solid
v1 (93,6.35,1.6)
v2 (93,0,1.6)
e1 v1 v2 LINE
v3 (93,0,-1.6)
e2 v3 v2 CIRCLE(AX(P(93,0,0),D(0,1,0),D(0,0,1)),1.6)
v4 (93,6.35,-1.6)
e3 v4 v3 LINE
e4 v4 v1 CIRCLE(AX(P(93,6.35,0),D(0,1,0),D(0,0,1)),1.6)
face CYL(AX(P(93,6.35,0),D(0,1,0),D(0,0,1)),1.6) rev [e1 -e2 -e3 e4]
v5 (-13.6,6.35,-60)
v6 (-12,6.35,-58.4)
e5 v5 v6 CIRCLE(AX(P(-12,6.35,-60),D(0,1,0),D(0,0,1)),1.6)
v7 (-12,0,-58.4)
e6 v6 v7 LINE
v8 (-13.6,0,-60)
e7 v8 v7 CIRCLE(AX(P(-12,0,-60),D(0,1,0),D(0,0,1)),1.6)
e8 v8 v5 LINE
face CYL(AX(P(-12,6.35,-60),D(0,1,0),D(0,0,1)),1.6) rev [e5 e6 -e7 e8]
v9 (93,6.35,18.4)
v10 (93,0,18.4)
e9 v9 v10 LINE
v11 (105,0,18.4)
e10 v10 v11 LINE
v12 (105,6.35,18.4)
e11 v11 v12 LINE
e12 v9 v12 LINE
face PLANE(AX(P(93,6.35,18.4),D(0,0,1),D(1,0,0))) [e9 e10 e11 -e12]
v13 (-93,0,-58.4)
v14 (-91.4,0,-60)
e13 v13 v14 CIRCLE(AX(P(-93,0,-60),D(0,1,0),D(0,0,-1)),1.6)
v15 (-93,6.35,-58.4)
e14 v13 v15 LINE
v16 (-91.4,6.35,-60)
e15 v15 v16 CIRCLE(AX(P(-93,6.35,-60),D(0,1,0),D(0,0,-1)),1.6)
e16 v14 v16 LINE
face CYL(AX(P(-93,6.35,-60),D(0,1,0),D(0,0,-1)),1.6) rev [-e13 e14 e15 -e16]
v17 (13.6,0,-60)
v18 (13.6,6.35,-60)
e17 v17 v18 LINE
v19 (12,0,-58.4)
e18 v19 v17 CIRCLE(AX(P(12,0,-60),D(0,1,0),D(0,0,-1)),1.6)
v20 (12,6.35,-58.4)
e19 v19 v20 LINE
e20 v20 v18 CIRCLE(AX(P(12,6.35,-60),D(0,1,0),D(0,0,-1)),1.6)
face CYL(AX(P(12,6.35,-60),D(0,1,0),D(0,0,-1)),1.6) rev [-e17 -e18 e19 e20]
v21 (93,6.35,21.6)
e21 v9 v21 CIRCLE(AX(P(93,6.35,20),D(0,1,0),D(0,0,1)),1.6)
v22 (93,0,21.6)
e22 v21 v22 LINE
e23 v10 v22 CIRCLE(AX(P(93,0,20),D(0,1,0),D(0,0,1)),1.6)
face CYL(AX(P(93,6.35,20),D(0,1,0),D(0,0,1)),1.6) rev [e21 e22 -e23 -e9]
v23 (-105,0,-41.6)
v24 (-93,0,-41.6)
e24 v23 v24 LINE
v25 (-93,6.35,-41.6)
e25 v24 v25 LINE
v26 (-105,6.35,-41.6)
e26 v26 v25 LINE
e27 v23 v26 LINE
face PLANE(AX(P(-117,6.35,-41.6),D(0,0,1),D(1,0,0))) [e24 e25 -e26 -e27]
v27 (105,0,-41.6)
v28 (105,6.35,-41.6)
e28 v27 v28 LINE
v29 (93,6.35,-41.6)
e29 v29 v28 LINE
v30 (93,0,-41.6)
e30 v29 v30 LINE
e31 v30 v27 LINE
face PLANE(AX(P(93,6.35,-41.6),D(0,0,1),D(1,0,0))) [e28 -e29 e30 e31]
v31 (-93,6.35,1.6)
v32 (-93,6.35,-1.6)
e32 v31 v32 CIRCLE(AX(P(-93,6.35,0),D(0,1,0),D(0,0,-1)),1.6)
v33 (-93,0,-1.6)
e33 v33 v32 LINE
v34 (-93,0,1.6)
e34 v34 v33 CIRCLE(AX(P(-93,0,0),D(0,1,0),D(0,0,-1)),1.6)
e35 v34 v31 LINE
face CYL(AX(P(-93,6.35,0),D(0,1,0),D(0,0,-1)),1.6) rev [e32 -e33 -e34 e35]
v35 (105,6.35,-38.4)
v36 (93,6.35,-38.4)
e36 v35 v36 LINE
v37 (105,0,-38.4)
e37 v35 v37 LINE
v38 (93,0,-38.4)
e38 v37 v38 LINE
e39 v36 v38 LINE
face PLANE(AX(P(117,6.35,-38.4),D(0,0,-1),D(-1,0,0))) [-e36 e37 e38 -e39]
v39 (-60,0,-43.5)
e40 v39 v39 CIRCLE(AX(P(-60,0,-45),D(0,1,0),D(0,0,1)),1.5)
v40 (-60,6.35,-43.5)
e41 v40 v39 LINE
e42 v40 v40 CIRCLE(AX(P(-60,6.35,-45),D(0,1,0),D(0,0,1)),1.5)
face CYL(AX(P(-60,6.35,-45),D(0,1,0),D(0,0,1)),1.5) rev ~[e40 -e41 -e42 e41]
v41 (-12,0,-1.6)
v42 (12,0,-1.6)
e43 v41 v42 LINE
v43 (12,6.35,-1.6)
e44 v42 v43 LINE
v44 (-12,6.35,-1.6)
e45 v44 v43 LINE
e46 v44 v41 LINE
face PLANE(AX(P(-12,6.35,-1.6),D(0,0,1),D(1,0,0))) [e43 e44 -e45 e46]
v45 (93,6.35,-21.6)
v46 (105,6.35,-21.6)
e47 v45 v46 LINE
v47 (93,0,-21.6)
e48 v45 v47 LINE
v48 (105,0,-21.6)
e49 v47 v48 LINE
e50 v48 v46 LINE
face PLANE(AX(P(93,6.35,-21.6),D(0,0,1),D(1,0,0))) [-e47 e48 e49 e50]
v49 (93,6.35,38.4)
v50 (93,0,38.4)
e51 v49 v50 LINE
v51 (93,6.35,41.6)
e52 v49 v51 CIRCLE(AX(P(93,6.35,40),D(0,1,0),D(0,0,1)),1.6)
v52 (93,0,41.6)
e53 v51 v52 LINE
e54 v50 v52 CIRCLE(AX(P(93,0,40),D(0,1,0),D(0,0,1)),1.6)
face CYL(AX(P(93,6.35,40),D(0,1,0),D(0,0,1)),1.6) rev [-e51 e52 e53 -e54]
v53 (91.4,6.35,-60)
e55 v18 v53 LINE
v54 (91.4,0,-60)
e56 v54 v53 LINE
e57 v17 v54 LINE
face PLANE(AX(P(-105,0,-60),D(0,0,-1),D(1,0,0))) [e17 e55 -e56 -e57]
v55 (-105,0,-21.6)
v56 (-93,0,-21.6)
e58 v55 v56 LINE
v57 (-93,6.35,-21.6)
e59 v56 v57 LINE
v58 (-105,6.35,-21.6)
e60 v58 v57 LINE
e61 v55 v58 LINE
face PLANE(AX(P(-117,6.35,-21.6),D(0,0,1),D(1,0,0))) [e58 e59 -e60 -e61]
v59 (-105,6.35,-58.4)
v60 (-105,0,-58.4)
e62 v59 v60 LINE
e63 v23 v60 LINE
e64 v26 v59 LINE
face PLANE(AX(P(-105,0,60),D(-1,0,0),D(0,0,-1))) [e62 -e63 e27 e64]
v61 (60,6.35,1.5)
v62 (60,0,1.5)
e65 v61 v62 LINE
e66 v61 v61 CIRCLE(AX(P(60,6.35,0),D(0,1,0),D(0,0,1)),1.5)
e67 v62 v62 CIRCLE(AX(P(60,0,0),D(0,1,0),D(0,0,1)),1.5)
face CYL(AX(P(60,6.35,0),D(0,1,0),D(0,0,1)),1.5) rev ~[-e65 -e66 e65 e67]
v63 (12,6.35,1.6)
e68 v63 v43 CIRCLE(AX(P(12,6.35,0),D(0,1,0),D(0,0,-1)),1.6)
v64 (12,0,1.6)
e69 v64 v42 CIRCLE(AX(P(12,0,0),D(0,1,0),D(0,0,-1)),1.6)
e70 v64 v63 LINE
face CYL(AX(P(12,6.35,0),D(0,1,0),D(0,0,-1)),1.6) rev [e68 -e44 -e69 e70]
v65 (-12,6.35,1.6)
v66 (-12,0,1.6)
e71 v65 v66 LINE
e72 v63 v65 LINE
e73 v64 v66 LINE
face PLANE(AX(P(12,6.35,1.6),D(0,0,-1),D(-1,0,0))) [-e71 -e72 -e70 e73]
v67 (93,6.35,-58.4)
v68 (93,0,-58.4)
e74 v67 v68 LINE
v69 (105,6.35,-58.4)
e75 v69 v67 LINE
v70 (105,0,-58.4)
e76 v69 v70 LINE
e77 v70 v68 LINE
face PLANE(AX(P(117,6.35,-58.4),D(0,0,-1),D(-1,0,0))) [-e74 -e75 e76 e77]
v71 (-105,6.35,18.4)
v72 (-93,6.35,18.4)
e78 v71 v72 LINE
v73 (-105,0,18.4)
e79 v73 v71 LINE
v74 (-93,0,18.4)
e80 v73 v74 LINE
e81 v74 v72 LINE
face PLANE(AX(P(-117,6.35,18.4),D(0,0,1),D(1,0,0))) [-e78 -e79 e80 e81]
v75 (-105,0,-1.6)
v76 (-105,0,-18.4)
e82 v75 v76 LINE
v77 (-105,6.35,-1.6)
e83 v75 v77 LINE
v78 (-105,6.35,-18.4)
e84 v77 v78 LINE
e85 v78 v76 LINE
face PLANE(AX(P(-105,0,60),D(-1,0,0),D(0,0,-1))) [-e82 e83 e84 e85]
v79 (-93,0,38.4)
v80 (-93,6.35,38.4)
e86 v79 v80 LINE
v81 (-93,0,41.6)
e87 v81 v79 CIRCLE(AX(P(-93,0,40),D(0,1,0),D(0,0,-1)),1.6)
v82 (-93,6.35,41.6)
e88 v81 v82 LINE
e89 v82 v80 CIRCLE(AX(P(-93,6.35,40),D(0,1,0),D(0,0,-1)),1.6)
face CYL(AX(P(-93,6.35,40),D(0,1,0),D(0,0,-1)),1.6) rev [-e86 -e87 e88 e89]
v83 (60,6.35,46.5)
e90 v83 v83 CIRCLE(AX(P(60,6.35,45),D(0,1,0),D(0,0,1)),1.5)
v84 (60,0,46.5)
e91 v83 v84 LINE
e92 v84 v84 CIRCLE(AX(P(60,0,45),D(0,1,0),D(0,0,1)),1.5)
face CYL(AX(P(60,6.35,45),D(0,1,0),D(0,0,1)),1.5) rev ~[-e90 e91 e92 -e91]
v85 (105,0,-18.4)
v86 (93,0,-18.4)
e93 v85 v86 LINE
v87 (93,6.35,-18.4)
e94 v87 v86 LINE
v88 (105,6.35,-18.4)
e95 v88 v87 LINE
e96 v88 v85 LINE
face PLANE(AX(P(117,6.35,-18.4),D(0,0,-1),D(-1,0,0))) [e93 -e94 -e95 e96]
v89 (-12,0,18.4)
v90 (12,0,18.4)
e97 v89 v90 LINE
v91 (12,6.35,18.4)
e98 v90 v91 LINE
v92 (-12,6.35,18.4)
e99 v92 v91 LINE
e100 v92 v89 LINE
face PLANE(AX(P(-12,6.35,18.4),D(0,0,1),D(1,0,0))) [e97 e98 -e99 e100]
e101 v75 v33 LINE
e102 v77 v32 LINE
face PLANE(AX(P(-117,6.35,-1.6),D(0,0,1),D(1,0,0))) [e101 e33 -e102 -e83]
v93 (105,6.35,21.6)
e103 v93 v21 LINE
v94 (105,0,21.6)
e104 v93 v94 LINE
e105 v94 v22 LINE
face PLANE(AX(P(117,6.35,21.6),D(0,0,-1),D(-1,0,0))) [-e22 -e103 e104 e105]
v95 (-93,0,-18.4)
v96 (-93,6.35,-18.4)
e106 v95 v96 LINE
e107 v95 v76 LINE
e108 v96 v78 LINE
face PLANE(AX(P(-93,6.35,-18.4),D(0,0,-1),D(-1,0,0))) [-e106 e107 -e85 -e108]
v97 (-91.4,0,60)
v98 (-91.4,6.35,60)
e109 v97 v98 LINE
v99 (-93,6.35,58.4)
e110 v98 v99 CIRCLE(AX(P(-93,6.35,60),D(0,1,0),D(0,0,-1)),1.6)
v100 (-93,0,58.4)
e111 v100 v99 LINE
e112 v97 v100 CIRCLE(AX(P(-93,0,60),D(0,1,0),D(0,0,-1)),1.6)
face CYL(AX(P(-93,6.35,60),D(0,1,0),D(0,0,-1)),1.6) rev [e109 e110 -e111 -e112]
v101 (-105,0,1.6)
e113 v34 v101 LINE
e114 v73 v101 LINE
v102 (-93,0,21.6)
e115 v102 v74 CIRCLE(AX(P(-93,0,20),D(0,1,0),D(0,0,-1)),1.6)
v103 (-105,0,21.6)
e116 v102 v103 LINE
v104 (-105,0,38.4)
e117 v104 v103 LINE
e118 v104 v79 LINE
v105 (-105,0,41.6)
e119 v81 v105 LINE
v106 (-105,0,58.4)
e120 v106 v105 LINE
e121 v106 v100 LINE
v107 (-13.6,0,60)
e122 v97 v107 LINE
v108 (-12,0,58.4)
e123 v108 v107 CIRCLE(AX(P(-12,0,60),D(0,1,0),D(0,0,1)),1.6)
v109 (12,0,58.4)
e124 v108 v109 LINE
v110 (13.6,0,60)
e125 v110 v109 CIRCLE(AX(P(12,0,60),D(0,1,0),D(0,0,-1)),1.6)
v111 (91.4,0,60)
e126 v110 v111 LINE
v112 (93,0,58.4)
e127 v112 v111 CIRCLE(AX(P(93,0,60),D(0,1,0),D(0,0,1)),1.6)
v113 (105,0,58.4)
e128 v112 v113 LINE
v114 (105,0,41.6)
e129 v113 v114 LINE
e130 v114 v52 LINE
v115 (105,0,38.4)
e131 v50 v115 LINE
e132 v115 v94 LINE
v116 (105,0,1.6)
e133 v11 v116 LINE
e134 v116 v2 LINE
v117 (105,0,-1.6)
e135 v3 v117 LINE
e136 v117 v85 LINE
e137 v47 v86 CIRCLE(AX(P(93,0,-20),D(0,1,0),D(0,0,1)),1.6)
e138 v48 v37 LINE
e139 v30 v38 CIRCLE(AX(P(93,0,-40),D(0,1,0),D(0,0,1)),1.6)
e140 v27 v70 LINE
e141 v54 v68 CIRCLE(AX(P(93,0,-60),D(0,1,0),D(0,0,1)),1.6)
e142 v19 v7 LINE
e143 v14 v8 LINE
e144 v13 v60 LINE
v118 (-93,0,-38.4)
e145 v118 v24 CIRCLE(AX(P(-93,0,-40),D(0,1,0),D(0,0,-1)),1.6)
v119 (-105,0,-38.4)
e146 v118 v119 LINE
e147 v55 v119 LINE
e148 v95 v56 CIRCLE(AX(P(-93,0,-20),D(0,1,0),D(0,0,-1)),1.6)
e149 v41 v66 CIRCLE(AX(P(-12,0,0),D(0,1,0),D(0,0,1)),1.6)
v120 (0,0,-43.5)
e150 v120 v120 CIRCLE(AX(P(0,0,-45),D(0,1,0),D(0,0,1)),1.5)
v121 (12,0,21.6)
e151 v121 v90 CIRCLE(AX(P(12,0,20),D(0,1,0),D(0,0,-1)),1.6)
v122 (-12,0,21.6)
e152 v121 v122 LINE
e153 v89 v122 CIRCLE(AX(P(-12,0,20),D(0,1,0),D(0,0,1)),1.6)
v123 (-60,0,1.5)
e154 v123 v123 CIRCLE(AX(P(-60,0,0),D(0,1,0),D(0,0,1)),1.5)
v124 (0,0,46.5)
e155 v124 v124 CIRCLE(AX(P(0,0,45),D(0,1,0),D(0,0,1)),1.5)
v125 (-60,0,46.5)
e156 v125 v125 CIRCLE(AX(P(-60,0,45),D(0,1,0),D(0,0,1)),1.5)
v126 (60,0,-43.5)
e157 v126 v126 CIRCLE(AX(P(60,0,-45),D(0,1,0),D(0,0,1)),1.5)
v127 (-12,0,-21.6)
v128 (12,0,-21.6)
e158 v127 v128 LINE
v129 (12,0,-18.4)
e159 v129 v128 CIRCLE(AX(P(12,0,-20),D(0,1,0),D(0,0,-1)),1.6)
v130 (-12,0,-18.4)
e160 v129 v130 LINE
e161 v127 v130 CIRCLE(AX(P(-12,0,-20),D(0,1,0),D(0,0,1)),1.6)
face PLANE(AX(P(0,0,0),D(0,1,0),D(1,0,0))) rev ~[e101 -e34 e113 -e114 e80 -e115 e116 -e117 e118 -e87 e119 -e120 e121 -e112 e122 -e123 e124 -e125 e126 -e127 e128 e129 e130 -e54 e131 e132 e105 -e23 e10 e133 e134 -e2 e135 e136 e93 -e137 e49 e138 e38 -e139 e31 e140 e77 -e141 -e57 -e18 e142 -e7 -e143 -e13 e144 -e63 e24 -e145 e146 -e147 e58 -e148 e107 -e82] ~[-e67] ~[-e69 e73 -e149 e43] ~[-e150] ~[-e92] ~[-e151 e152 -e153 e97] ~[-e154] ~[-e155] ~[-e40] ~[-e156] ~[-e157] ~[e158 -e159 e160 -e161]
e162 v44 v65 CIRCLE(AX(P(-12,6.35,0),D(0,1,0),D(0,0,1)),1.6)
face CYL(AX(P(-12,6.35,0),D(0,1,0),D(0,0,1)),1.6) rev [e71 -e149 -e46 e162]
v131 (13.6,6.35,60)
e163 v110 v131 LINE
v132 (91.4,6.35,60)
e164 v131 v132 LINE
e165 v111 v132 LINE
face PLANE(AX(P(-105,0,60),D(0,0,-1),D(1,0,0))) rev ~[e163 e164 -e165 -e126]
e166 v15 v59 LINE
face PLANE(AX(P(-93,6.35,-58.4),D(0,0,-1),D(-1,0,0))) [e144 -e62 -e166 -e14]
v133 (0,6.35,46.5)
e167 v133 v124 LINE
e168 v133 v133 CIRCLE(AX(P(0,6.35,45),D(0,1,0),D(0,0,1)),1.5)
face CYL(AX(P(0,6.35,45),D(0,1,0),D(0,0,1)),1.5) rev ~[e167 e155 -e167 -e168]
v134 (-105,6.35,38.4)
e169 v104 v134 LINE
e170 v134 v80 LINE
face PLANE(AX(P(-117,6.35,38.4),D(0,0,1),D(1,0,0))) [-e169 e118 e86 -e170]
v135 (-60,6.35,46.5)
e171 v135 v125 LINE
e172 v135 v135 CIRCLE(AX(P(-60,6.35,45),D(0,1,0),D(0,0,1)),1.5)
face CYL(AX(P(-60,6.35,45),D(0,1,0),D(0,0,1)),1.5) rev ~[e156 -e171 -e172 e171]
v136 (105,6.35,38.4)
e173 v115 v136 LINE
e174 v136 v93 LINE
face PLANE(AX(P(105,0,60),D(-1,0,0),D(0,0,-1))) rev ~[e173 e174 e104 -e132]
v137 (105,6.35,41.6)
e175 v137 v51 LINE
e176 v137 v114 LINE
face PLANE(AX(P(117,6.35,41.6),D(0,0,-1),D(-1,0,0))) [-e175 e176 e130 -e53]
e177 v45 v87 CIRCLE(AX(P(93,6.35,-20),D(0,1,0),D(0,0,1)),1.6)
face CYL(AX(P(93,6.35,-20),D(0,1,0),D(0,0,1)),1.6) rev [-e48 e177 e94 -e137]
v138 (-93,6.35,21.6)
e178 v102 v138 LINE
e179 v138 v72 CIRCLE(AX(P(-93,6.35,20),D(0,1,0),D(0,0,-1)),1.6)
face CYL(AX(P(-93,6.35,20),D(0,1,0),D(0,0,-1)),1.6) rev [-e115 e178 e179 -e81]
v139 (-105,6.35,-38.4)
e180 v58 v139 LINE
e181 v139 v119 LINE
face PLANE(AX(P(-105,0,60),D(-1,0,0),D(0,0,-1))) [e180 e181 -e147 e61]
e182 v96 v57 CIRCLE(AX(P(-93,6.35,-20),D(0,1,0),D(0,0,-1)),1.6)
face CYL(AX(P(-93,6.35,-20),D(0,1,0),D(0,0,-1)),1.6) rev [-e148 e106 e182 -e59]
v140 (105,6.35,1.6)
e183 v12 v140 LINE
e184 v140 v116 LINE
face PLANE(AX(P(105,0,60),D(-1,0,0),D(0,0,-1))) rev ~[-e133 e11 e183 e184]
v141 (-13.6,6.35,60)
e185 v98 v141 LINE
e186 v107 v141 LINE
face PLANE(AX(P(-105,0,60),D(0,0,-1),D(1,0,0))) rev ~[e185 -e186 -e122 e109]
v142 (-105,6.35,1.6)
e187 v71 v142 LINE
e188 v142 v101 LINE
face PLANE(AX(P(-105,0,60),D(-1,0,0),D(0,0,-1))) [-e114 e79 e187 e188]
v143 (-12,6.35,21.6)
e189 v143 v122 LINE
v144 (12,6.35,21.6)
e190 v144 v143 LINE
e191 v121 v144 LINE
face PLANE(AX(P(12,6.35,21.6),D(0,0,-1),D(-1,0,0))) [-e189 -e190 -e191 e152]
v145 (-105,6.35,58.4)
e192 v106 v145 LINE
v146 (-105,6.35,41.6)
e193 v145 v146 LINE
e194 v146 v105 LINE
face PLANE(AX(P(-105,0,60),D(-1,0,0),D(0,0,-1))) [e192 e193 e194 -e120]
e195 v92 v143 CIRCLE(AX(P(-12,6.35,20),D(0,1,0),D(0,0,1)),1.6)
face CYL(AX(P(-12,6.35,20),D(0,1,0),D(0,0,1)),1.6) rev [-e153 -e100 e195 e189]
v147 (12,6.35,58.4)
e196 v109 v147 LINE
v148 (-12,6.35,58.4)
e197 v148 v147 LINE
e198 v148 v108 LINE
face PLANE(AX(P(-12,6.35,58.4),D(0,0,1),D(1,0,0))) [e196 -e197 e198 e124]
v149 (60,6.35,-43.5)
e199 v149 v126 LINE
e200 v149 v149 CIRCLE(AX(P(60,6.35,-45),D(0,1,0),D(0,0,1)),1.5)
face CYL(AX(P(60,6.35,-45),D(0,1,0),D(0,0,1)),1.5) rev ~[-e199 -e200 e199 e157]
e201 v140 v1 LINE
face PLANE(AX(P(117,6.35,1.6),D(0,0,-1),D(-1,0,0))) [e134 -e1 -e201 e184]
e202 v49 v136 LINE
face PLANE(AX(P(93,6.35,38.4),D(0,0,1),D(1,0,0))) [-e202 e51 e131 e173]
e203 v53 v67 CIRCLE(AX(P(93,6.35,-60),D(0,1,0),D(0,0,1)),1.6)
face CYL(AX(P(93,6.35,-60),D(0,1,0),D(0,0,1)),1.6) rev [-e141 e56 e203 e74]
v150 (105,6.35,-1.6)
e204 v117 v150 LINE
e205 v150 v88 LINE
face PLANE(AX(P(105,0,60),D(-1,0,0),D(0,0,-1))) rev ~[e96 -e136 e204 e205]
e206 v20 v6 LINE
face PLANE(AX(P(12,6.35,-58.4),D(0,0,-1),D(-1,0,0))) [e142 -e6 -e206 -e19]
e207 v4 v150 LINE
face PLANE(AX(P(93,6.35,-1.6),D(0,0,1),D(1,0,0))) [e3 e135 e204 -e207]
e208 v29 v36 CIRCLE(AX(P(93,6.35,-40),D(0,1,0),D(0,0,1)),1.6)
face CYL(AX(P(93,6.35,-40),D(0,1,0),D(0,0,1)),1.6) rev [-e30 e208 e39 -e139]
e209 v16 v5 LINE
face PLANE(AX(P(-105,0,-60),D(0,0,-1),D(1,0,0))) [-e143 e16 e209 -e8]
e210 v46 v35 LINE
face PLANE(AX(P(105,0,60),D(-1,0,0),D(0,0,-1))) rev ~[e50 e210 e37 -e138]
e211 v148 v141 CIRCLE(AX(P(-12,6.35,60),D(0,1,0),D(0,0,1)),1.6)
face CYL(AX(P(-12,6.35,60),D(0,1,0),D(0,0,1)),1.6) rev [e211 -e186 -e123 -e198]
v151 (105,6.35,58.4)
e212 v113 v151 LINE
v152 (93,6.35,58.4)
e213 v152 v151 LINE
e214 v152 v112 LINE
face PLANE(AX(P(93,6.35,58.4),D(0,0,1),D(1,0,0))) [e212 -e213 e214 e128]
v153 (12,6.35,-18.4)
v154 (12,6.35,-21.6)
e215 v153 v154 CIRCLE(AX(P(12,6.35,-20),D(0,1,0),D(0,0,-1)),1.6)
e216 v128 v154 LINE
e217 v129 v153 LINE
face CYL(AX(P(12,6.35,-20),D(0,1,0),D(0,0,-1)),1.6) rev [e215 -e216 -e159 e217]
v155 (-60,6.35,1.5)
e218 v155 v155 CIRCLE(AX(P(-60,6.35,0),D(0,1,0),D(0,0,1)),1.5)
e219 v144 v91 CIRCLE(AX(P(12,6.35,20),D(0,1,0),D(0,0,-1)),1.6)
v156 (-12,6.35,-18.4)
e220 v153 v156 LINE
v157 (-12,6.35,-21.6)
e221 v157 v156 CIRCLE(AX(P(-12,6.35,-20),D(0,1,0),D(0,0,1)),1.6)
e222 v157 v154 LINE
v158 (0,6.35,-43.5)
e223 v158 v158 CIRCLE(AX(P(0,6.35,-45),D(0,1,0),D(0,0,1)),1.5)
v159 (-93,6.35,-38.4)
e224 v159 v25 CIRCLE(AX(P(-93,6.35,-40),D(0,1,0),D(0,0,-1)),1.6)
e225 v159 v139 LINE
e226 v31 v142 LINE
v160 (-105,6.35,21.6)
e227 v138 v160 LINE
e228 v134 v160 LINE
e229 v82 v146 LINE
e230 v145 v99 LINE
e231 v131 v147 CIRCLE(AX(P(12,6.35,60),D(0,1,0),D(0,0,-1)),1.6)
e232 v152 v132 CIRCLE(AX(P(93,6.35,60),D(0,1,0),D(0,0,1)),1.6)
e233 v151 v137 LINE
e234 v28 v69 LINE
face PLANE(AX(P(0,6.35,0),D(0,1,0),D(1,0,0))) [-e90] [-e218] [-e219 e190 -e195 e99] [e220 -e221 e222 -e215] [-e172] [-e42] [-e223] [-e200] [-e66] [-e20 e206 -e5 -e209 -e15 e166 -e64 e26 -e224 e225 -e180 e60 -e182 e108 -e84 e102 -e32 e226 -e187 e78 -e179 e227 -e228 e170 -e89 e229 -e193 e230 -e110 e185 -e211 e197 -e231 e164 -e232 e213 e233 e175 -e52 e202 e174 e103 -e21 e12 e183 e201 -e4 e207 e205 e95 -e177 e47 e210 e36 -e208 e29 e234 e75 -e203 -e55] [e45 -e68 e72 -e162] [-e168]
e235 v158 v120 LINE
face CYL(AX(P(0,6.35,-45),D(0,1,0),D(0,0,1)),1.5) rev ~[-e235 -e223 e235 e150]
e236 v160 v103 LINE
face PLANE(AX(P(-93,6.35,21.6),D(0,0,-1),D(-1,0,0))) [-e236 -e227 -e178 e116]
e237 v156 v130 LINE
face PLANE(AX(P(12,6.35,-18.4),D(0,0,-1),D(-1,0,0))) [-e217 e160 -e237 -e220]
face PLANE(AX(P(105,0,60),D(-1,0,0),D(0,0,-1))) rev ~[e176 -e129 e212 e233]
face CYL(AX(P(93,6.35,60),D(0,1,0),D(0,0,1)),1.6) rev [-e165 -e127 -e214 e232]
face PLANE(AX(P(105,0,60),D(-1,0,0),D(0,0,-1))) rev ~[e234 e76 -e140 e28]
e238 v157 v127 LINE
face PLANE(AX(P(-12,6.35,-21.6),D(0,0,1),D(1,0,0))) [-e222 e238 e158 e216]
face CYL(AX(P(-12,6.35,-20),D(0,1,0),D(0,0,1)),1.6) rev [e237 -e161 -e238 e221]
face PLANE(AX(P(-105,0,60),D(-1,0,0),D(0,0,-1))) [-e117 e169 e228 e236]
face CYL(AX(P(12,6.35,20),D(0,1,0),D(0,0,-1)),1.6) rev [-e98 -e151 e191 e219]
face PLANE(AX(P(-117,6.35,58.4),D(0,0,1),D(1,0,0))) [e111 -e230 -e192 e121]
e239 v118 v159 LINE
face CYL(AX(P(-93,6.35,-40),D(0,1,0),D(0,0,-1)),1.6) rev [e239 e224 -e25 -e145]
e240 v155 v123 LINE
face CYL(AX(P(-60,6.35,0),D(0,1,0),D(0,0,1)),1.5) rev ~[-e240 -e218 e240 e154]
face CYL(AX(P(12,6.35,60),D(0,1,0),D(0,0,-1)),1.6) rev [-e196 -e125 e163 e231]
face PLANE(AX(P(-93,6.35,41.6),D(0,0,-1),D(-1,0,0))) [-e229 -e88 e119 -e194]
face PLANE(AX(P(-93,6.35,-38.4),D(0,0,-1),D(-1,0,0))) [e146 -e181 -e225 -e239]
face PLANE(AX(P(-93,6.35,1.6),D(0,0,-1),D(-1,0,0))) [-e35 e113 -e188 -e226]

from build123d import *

# Parameters (mm, degrees)
SKETCH1_W                  = 210
SKETCH1_H                  = 120
BOSS_EXTRUDE1_DEPTH        = 6.35
CUT_EXTRUDE1_DEPTH         = 122.100464491
LPATTERN1_COUNT            = 4
LPATTERN1_PITCH            = 20
LPATTERN1_COL_COUNT        = 4
LPATTERN1_COL_PITCH        = 20
LPATTERN2_COUNT            = 2
LPATTERN2_PITCH            = 105
LPATTERN2_COPY_1_DEPTH     = 122.100464491
LPATTERN2_COPY_2_DEPTH     = 122.100464491
LPATTERN2_COPY_3_DEPTH     = 122.100464491
LPATTERN2_COPY_4_DEPTH     = 122.100464491
LPATTERN2_COPY_5_DEPTH     = 122.100464491
LPATTERN2_COPY_6_DEPTH     = 122.100464491
LPATTERN2_COL_COUNT        = 2
LPATTERN2_COL_PITCH        = 105
LPATTERN2_COL_COPY_1_DEPTH = 122.100464491
LPATTERN2_COL_COPY_2_DEPTH = 122.100464491
LPATTERN2_COL_COPY_3_DEPTH = 122.100464491
LPATTERN2_COL_COPY_4_DEPTH = 122.100464491
LPATTERN2_COL_COPY_5_DEPTH = 122.100464491
LPATTERN2_COL_COPY_6_DEPTH = 122.100464491
SKETCH6_R                  = 1.5
CUT_EXTRUDE3_DEPTH         = 10
SKETCH7_R                  = 1.5
CUT_EXTRUDE4_DEPTH         = 10
BOSS_EXTRUDE2_DEPTH        = 6.35


with BuildPart() as part:
    # Sketch1 → Boss-Extrude1 (new body)
    with BuildSketch(Plane(origin=(0, 0, 0), x_dir=(1, 0, 0), z_dir=(0, 1, 0))):
        Rectangle(SKETCH1_W, SKETCH1_H)
    extrude(amount=BOSS_EXTRUDE1_DEPTH)

    # Sketch3 → Cut-Extrude1 (cut, symmetric)
    with BuildSketch(Plane(origin=(0, 6.35, 0), x_dir=(1, 0, 0), z_dir=(0, 1, 0))):
        with BuildLine():
            Line((12, -1.6), (-12, -1.6))
            ThreePointArc((-12, -1.6), (-13.6, 0), (-12, 1.6))
            Line((-12, 1.6), (12, 1.6))
            ThreePointArc((12, 1.6), (13.6, 0), (12, -1.6))
        make_face()
    cut_extrude1 = extrude(amount=CUT_EXTRUDE1_DEPTH, both=True, mode=Mode.SUBTRACT)

    # LPattern1: Cut-Extrude1 ×4
    with Locations(*[(0, 0, i * LPATTERN1_PITCH) for i in range(1, LPATTERN1_COUNT)]):
        add(cut_extrude1, mode=Mode.SUBTRACT)

    # LPattern1 col: Cut-Extrude1 ×4
    with Locations(*[(0, 0, -i * LPATTERN1_COL_PITCH) for i in range(1, LPATTERN1_COL_COUNT)]):
        add(cut_extrude1, mode=Mode.SUBTRACT)

    # LPattern2: Cut-Extrude1 ×2
    with Locations(*[(i * LPATTERN2_PITCH, 0, 0) for i in range(1, LPATTERN2_COUNT)]):
        add(cut_extrude1, mode=Mode.SUBTRACT)

    # LPattern2 copy 1 sketch → LPattern2 copy 1 (cut, symmetric)
    with BuildSketch(Plane(origin=(105, 6.35, 20), x_dir=(1, 0, 0), z_dir=(0, 1, 0))):
        with BuildLine():
            Line((12, -1.6), (-12, -1.6))
            ThreePointArc((-12, -1.6), (-13.6, 0), (-12, 1.6))
            Line((-12, 1.6), (12, 1.6))
            ThreePointArc((12, 1.6), (13.6, 0), (12, -1.6))
        make_face()
    extrude(amount=LPATTERN2_COPY_1_DEPTH, both=True, mode=Mode.SUBTRACT)

    # LPattern2 copy 2 sketch → LPattern2 copy 2 (cut, symmetric)
    with BuildSketch(Plane(origin=(105, 6.35, 40), x_dir=(1, 0, 0), z_dir=(0, 1, 0))):
        with BuildLine():
            Line((12, -1.6), (-12, -1.6))
            ThreePointArc((-12, -1.6), (-13.6, 0), (-12, 1.6))
            Line((-12, 1.6), (12, 1.6))
            ThreePointArc((12, 1.6), (13.6, 0), (12, -1.6))
        make_face()
    extrude(amount=LPATTERN2_COPY_2_DEPTH, both=True, mode=Mode.SUBTRACT)

    # LPattern2 copy 3 sketch → LPattern2 copy 3 (cut, symmetric)
    with BuildSketch(Plane(origin=(105, 6.35, 60), x_dir=(1, 0, 0), z_dir=(0, 1, 0))):
        with BuildLine():
            Line((12, -1.6), (-12, -1.6))
            ThreePointArc((-12, -1.6), (-13.6, 0), (-12, 1.6))
            Line((-12, 1.6), (12, 1.6))
            ThreePointArc((12, 1.6), (13.6, 0), (12, -1.6))
        make_face()
    extrude(amount=LPATTERN2_COPY_3_DEPTH, both=True, mode=Mode.SUBTRACT)

    # LPattern2 copy 4 sketch → LPattern2 copy 4 (cut, symmetric)
    with BuildSketch(Plane(origin=(105, 6.35, -20), x_dir=(1, 0, 0), z_dir=(0, 1, 0))):
        with BuildLine():
            Line((12, -1.6), (-12, -1.6))
            ThreePointArc((-12, -1.6), (-13.6, 0), (-12, 1.6))
            Line((-12, 1.6), (12, 1.6))
            ThreePointArc((12, 1.6), (13.6, 0), (12, -1.6))
        make_face()
    extrude(amount=LPATTERN2_COPY_4_DEPTH, both=True, mode=Mode.SUBTRACT)

    # LPattern2 copy 5 sketch → LPattern2 copy 5 (cut, symmetric)
    with BuildSketch(Plane(origin=(105, 6.35, -40), x_dir=(1, 0, 0), z_dir=(0, 1, 0))):
        with BuildLine():
            Line((12, -1.6), (-12, -1.6))
            ThreePointArc((-12, -1.6), (-13.6, 0), (-12, 1.6))
            Line((-12, 1.6), (12, 1.6))
            ThreePointArc((12, 1.6), (13.6, 0), (12, -1.6))
        make_face()
    extrude(amount=LPATTERN2_COPY_5_DEPTH, both=True, mode=Mode.SUBTRACT)

    # LPattern2 copy 6 sketch → LPattern2 copy 6 (cut, symmetric)
    with BuildSketch(Plane(origin=(105, 6.35, -60), x_dir=(1, 0, 0), z_dir=(0, 1, 0))):
        with BuildLine():
            Line((12, -1.6), (-12, -1.6))
            ThreePointArc((-12, -1.6), (-13.6, 0), (-12, 1.6))
            Line((-12, 1.6), (12, 1.6))
            ThreePointArc((12, 1.6), (13.6, 0), (12, -1.6))
        make_face()
    extrude(amount=LPATTERN2_COPY_6_DEPTH, both=True, mode=Mode.SUBTRACT)

    # LPattern2 col: Cut-Extrude1 ×2
    with Locations(*[(-i * LPATTERN2_COL_PITCH, 0, 0) for i in range(1, LPATTERN2_COL_COUNT)]):
        add(cut_extrude1, mode=Mode.SUBTRACT)

    # LPattern2 col copy 1 sketch → LPattern2 col copy 1 (cut, symmetric)
    with BuildSketch(Plane(origin=(-105, 6.35, 20), x_dir=(1, 0, 0), z_dir=(0, 1, 0))):
        with BuildLine():
            Line((12, -1.6), (-12, -1.6))
            ThreePointArc((-12, -1.6), (-13.6, 0), (-12, 1.6))
            Line((-12, 1.6), (12, 1.6))
            ThreePointArc((12, 1.6), (13.6, 0), (12, -1.6))
        make_face()
    extrude(amount=LPATTERN2_COL_COPY_1_DEPTH, both=True, mode=Mode.SUBTRACT)

    # LPattern2 col copy 2 sketch → LPattern2 col copy 2 (cut, symmetric)
    with BuildSketch(Plane(origin=(-105, 6.35, 40), x_dir=(1, 0, 0), z_dir=(0, 1, 0))):
        with BuildLine():
            Line((12, -1.6), (-12, -1.6))
            ThreePointArc((-12, -1.6), (-13.6, 0), (-12, 1.6))
            Line((-12, 1.6), (12, 1.6))
            ThreePointArc((12, 1.6), (13.6, 0), (12, -1.6))
        make_face()
    extrude(amount=LPATTERN2_COL_COPY_2_DEPTH, both=True, mode=Mode.SUBTRACT)

    # LPattern2 col copy 3 sketch → LPattern2 col copy 3 (cut, symmetric)
    with BuildSketch(Plane(origin=(-105, 6.35, 60), x_dir=(1, 0, 0), z_dir=(0, 1, 0))):
        with BuildLine():
            Line((12, -1.6), (-12, -1.6))
            ThreePointArc((-12, -1.6), (-13.6, 0), (-12, 1.6))
            Line((-12, 1.6), (12, 1.6))
            ThreePointArc((12, 1.6), (13.6, 0), (12, -1.6))
        make_face()
    extrude(amount=LPATTERN2_COL_COPY_3_DEPTH, both=True, mode=Mode.SUBTRACT)

    # LPattern2 col copy 4 sketch → LPattern2 col copy 4 (cut, symmetric)
    with BuildSketch(Plane(origin=(-105, 6.35, -20), x_dir=(1, 0, 0), z_dir=(0, 1, 0))):
        with BuildLine():
            Line((12, -1.6), (-12, -1.6))
            ThreePointArc((-12, -1.6), (-13.6, 0), (-12, 1.6))
            Line((-12, 1.6), (12, 1.6))
            ThreePointArc((12, 1.6), (13.6, 0), (12, -1.6))
        make_face()
    extrude(amount=LPATTERN2_COL_COPY_4_DEPTH, both=True, mode=Mode.SUBTRACT)

    # LPattern2 col copy 5 sketch → LPattern2 col copy 5 (cut, symmetric)
    with BuildSketch(Plane(origin=(-105, 6.35, -40), x_dir=(1, 0, 0), z_dir=(0, 1, 0))):
        with BuildLine():
            Line((12, -1.6), (-12, -1.6))
            ThreePointArc((-12, -1.6), (-13.6, 0), (-12, 1.6))
            Line((-12, 1.6), (12, 1.6))
            ThreePointArc((12, 1.6), (13.6, 0), (12, -1.6))
        make_face()
    extrude(amount=LPATTERN2_COL_COPY_5_DEPTH, both=True, mode=Mode.SUBTRACT)

    # LPattern2 col copy 6 sketch → LPattern2 col copy 6 (cut, symmetric)
    with BuildSketch(Plane(origin=(-105, 6.35, -60), x_dir=(1, 0, 0), z_dir=(0, 1, 0))):
        with BuildLine():
            Line((12, -1.6), (-12, -1.6))
            ThreePointArc((-12, -1.6), (-13.6, 0), (-12, 1.6))
            Line((-12, 1.6), (12, 1.6))
            ThreePointArc((12, 1.6), (13.6, 0), (12, -1.6))
        make_face()
    extrude(amount=LPATTERN2_COL_COPY_6_DEPTH, both=True, mode=Mode.SUBTRACT)

    # Sketch6 → Cut-Extrude3 (cut)
    with BuildSketch(Plane(origin=(0, 6.35, 0), x_dir=(1, 0, 0), z_dir=(0, 1, 0))):
        with Locations(Location((-60, 45, 0), (0, 0, 270))):
            Circle(SKETCH6_R)
        with Locations(Location((60, 45, 0), (0, 0, 270))):
            Circle(SKETCH6_R)
        with Locations(Location((60, -45, 0), (0, 0, 270))):
            Circle(SKETCH6_R)
        with Locations(Location((-60, -45, 0), (0, 0, 270))):
            Circle(SKETCH6_R)
        with Locations(Location((0, 45, 0), (0, 0, 270))):
            Circle(SKETCH6_R)
        with Locations(Location((0, -45, 0), (0, 0, 270))):
            Circle(SKETCH6_R)
    extrude(amount=-CUT_EXTRUDE3_DEPTH, mode=Mode.SUBTRACT)

    # Sketch7 → Cut-Extrude4 (cut)
    with BuildSketch(Plane(origin=(0, 6.35, 0), x_dir=(1, 0, 0), z_dir=(0, 1, 0))):
        with Locations(Location((-60, 0, 0), (0, 0, 270))):
            Circle(SKETCH7_R)
        with Locations(Location((60, 0, 0), (0, 0, 270))):
            Circle(SKETCH7_R)
    extrude(amount=-CUT_EXTRUDE4_DEPTH, mode=Mode.SUBTRACT)

    # Sketch8 → Boss-Extrude2 (add)
    with BuildSketch(Plane(origin=(0, 6.35, 0), x_dir=(1, 0, 0), z_dir=(0, 1, 0))):
        with BuildLine():
            Line((-12, 42), (12, 42))
            ThreePointArc((12, 42), (14, 40), (12, 38))
            Line((12, 38), (-12, 38))
            ThreePointArc((-12, 38), (-14, 40), (-12, 42))
        make_face()
        with BuildLine():
            Line((-12, -38), (12, -38))
            ThreePointArc((12, -38), (14, -40), (12, -42))
            Line((12, -42), (-12, -42))
            ThreePointArc((-12, -42), (-14, -40), (-12, -38))
        make_face()
    extrude(amount=-BOSS_EXTRUDE2_DEPTH)


solid = part.part
